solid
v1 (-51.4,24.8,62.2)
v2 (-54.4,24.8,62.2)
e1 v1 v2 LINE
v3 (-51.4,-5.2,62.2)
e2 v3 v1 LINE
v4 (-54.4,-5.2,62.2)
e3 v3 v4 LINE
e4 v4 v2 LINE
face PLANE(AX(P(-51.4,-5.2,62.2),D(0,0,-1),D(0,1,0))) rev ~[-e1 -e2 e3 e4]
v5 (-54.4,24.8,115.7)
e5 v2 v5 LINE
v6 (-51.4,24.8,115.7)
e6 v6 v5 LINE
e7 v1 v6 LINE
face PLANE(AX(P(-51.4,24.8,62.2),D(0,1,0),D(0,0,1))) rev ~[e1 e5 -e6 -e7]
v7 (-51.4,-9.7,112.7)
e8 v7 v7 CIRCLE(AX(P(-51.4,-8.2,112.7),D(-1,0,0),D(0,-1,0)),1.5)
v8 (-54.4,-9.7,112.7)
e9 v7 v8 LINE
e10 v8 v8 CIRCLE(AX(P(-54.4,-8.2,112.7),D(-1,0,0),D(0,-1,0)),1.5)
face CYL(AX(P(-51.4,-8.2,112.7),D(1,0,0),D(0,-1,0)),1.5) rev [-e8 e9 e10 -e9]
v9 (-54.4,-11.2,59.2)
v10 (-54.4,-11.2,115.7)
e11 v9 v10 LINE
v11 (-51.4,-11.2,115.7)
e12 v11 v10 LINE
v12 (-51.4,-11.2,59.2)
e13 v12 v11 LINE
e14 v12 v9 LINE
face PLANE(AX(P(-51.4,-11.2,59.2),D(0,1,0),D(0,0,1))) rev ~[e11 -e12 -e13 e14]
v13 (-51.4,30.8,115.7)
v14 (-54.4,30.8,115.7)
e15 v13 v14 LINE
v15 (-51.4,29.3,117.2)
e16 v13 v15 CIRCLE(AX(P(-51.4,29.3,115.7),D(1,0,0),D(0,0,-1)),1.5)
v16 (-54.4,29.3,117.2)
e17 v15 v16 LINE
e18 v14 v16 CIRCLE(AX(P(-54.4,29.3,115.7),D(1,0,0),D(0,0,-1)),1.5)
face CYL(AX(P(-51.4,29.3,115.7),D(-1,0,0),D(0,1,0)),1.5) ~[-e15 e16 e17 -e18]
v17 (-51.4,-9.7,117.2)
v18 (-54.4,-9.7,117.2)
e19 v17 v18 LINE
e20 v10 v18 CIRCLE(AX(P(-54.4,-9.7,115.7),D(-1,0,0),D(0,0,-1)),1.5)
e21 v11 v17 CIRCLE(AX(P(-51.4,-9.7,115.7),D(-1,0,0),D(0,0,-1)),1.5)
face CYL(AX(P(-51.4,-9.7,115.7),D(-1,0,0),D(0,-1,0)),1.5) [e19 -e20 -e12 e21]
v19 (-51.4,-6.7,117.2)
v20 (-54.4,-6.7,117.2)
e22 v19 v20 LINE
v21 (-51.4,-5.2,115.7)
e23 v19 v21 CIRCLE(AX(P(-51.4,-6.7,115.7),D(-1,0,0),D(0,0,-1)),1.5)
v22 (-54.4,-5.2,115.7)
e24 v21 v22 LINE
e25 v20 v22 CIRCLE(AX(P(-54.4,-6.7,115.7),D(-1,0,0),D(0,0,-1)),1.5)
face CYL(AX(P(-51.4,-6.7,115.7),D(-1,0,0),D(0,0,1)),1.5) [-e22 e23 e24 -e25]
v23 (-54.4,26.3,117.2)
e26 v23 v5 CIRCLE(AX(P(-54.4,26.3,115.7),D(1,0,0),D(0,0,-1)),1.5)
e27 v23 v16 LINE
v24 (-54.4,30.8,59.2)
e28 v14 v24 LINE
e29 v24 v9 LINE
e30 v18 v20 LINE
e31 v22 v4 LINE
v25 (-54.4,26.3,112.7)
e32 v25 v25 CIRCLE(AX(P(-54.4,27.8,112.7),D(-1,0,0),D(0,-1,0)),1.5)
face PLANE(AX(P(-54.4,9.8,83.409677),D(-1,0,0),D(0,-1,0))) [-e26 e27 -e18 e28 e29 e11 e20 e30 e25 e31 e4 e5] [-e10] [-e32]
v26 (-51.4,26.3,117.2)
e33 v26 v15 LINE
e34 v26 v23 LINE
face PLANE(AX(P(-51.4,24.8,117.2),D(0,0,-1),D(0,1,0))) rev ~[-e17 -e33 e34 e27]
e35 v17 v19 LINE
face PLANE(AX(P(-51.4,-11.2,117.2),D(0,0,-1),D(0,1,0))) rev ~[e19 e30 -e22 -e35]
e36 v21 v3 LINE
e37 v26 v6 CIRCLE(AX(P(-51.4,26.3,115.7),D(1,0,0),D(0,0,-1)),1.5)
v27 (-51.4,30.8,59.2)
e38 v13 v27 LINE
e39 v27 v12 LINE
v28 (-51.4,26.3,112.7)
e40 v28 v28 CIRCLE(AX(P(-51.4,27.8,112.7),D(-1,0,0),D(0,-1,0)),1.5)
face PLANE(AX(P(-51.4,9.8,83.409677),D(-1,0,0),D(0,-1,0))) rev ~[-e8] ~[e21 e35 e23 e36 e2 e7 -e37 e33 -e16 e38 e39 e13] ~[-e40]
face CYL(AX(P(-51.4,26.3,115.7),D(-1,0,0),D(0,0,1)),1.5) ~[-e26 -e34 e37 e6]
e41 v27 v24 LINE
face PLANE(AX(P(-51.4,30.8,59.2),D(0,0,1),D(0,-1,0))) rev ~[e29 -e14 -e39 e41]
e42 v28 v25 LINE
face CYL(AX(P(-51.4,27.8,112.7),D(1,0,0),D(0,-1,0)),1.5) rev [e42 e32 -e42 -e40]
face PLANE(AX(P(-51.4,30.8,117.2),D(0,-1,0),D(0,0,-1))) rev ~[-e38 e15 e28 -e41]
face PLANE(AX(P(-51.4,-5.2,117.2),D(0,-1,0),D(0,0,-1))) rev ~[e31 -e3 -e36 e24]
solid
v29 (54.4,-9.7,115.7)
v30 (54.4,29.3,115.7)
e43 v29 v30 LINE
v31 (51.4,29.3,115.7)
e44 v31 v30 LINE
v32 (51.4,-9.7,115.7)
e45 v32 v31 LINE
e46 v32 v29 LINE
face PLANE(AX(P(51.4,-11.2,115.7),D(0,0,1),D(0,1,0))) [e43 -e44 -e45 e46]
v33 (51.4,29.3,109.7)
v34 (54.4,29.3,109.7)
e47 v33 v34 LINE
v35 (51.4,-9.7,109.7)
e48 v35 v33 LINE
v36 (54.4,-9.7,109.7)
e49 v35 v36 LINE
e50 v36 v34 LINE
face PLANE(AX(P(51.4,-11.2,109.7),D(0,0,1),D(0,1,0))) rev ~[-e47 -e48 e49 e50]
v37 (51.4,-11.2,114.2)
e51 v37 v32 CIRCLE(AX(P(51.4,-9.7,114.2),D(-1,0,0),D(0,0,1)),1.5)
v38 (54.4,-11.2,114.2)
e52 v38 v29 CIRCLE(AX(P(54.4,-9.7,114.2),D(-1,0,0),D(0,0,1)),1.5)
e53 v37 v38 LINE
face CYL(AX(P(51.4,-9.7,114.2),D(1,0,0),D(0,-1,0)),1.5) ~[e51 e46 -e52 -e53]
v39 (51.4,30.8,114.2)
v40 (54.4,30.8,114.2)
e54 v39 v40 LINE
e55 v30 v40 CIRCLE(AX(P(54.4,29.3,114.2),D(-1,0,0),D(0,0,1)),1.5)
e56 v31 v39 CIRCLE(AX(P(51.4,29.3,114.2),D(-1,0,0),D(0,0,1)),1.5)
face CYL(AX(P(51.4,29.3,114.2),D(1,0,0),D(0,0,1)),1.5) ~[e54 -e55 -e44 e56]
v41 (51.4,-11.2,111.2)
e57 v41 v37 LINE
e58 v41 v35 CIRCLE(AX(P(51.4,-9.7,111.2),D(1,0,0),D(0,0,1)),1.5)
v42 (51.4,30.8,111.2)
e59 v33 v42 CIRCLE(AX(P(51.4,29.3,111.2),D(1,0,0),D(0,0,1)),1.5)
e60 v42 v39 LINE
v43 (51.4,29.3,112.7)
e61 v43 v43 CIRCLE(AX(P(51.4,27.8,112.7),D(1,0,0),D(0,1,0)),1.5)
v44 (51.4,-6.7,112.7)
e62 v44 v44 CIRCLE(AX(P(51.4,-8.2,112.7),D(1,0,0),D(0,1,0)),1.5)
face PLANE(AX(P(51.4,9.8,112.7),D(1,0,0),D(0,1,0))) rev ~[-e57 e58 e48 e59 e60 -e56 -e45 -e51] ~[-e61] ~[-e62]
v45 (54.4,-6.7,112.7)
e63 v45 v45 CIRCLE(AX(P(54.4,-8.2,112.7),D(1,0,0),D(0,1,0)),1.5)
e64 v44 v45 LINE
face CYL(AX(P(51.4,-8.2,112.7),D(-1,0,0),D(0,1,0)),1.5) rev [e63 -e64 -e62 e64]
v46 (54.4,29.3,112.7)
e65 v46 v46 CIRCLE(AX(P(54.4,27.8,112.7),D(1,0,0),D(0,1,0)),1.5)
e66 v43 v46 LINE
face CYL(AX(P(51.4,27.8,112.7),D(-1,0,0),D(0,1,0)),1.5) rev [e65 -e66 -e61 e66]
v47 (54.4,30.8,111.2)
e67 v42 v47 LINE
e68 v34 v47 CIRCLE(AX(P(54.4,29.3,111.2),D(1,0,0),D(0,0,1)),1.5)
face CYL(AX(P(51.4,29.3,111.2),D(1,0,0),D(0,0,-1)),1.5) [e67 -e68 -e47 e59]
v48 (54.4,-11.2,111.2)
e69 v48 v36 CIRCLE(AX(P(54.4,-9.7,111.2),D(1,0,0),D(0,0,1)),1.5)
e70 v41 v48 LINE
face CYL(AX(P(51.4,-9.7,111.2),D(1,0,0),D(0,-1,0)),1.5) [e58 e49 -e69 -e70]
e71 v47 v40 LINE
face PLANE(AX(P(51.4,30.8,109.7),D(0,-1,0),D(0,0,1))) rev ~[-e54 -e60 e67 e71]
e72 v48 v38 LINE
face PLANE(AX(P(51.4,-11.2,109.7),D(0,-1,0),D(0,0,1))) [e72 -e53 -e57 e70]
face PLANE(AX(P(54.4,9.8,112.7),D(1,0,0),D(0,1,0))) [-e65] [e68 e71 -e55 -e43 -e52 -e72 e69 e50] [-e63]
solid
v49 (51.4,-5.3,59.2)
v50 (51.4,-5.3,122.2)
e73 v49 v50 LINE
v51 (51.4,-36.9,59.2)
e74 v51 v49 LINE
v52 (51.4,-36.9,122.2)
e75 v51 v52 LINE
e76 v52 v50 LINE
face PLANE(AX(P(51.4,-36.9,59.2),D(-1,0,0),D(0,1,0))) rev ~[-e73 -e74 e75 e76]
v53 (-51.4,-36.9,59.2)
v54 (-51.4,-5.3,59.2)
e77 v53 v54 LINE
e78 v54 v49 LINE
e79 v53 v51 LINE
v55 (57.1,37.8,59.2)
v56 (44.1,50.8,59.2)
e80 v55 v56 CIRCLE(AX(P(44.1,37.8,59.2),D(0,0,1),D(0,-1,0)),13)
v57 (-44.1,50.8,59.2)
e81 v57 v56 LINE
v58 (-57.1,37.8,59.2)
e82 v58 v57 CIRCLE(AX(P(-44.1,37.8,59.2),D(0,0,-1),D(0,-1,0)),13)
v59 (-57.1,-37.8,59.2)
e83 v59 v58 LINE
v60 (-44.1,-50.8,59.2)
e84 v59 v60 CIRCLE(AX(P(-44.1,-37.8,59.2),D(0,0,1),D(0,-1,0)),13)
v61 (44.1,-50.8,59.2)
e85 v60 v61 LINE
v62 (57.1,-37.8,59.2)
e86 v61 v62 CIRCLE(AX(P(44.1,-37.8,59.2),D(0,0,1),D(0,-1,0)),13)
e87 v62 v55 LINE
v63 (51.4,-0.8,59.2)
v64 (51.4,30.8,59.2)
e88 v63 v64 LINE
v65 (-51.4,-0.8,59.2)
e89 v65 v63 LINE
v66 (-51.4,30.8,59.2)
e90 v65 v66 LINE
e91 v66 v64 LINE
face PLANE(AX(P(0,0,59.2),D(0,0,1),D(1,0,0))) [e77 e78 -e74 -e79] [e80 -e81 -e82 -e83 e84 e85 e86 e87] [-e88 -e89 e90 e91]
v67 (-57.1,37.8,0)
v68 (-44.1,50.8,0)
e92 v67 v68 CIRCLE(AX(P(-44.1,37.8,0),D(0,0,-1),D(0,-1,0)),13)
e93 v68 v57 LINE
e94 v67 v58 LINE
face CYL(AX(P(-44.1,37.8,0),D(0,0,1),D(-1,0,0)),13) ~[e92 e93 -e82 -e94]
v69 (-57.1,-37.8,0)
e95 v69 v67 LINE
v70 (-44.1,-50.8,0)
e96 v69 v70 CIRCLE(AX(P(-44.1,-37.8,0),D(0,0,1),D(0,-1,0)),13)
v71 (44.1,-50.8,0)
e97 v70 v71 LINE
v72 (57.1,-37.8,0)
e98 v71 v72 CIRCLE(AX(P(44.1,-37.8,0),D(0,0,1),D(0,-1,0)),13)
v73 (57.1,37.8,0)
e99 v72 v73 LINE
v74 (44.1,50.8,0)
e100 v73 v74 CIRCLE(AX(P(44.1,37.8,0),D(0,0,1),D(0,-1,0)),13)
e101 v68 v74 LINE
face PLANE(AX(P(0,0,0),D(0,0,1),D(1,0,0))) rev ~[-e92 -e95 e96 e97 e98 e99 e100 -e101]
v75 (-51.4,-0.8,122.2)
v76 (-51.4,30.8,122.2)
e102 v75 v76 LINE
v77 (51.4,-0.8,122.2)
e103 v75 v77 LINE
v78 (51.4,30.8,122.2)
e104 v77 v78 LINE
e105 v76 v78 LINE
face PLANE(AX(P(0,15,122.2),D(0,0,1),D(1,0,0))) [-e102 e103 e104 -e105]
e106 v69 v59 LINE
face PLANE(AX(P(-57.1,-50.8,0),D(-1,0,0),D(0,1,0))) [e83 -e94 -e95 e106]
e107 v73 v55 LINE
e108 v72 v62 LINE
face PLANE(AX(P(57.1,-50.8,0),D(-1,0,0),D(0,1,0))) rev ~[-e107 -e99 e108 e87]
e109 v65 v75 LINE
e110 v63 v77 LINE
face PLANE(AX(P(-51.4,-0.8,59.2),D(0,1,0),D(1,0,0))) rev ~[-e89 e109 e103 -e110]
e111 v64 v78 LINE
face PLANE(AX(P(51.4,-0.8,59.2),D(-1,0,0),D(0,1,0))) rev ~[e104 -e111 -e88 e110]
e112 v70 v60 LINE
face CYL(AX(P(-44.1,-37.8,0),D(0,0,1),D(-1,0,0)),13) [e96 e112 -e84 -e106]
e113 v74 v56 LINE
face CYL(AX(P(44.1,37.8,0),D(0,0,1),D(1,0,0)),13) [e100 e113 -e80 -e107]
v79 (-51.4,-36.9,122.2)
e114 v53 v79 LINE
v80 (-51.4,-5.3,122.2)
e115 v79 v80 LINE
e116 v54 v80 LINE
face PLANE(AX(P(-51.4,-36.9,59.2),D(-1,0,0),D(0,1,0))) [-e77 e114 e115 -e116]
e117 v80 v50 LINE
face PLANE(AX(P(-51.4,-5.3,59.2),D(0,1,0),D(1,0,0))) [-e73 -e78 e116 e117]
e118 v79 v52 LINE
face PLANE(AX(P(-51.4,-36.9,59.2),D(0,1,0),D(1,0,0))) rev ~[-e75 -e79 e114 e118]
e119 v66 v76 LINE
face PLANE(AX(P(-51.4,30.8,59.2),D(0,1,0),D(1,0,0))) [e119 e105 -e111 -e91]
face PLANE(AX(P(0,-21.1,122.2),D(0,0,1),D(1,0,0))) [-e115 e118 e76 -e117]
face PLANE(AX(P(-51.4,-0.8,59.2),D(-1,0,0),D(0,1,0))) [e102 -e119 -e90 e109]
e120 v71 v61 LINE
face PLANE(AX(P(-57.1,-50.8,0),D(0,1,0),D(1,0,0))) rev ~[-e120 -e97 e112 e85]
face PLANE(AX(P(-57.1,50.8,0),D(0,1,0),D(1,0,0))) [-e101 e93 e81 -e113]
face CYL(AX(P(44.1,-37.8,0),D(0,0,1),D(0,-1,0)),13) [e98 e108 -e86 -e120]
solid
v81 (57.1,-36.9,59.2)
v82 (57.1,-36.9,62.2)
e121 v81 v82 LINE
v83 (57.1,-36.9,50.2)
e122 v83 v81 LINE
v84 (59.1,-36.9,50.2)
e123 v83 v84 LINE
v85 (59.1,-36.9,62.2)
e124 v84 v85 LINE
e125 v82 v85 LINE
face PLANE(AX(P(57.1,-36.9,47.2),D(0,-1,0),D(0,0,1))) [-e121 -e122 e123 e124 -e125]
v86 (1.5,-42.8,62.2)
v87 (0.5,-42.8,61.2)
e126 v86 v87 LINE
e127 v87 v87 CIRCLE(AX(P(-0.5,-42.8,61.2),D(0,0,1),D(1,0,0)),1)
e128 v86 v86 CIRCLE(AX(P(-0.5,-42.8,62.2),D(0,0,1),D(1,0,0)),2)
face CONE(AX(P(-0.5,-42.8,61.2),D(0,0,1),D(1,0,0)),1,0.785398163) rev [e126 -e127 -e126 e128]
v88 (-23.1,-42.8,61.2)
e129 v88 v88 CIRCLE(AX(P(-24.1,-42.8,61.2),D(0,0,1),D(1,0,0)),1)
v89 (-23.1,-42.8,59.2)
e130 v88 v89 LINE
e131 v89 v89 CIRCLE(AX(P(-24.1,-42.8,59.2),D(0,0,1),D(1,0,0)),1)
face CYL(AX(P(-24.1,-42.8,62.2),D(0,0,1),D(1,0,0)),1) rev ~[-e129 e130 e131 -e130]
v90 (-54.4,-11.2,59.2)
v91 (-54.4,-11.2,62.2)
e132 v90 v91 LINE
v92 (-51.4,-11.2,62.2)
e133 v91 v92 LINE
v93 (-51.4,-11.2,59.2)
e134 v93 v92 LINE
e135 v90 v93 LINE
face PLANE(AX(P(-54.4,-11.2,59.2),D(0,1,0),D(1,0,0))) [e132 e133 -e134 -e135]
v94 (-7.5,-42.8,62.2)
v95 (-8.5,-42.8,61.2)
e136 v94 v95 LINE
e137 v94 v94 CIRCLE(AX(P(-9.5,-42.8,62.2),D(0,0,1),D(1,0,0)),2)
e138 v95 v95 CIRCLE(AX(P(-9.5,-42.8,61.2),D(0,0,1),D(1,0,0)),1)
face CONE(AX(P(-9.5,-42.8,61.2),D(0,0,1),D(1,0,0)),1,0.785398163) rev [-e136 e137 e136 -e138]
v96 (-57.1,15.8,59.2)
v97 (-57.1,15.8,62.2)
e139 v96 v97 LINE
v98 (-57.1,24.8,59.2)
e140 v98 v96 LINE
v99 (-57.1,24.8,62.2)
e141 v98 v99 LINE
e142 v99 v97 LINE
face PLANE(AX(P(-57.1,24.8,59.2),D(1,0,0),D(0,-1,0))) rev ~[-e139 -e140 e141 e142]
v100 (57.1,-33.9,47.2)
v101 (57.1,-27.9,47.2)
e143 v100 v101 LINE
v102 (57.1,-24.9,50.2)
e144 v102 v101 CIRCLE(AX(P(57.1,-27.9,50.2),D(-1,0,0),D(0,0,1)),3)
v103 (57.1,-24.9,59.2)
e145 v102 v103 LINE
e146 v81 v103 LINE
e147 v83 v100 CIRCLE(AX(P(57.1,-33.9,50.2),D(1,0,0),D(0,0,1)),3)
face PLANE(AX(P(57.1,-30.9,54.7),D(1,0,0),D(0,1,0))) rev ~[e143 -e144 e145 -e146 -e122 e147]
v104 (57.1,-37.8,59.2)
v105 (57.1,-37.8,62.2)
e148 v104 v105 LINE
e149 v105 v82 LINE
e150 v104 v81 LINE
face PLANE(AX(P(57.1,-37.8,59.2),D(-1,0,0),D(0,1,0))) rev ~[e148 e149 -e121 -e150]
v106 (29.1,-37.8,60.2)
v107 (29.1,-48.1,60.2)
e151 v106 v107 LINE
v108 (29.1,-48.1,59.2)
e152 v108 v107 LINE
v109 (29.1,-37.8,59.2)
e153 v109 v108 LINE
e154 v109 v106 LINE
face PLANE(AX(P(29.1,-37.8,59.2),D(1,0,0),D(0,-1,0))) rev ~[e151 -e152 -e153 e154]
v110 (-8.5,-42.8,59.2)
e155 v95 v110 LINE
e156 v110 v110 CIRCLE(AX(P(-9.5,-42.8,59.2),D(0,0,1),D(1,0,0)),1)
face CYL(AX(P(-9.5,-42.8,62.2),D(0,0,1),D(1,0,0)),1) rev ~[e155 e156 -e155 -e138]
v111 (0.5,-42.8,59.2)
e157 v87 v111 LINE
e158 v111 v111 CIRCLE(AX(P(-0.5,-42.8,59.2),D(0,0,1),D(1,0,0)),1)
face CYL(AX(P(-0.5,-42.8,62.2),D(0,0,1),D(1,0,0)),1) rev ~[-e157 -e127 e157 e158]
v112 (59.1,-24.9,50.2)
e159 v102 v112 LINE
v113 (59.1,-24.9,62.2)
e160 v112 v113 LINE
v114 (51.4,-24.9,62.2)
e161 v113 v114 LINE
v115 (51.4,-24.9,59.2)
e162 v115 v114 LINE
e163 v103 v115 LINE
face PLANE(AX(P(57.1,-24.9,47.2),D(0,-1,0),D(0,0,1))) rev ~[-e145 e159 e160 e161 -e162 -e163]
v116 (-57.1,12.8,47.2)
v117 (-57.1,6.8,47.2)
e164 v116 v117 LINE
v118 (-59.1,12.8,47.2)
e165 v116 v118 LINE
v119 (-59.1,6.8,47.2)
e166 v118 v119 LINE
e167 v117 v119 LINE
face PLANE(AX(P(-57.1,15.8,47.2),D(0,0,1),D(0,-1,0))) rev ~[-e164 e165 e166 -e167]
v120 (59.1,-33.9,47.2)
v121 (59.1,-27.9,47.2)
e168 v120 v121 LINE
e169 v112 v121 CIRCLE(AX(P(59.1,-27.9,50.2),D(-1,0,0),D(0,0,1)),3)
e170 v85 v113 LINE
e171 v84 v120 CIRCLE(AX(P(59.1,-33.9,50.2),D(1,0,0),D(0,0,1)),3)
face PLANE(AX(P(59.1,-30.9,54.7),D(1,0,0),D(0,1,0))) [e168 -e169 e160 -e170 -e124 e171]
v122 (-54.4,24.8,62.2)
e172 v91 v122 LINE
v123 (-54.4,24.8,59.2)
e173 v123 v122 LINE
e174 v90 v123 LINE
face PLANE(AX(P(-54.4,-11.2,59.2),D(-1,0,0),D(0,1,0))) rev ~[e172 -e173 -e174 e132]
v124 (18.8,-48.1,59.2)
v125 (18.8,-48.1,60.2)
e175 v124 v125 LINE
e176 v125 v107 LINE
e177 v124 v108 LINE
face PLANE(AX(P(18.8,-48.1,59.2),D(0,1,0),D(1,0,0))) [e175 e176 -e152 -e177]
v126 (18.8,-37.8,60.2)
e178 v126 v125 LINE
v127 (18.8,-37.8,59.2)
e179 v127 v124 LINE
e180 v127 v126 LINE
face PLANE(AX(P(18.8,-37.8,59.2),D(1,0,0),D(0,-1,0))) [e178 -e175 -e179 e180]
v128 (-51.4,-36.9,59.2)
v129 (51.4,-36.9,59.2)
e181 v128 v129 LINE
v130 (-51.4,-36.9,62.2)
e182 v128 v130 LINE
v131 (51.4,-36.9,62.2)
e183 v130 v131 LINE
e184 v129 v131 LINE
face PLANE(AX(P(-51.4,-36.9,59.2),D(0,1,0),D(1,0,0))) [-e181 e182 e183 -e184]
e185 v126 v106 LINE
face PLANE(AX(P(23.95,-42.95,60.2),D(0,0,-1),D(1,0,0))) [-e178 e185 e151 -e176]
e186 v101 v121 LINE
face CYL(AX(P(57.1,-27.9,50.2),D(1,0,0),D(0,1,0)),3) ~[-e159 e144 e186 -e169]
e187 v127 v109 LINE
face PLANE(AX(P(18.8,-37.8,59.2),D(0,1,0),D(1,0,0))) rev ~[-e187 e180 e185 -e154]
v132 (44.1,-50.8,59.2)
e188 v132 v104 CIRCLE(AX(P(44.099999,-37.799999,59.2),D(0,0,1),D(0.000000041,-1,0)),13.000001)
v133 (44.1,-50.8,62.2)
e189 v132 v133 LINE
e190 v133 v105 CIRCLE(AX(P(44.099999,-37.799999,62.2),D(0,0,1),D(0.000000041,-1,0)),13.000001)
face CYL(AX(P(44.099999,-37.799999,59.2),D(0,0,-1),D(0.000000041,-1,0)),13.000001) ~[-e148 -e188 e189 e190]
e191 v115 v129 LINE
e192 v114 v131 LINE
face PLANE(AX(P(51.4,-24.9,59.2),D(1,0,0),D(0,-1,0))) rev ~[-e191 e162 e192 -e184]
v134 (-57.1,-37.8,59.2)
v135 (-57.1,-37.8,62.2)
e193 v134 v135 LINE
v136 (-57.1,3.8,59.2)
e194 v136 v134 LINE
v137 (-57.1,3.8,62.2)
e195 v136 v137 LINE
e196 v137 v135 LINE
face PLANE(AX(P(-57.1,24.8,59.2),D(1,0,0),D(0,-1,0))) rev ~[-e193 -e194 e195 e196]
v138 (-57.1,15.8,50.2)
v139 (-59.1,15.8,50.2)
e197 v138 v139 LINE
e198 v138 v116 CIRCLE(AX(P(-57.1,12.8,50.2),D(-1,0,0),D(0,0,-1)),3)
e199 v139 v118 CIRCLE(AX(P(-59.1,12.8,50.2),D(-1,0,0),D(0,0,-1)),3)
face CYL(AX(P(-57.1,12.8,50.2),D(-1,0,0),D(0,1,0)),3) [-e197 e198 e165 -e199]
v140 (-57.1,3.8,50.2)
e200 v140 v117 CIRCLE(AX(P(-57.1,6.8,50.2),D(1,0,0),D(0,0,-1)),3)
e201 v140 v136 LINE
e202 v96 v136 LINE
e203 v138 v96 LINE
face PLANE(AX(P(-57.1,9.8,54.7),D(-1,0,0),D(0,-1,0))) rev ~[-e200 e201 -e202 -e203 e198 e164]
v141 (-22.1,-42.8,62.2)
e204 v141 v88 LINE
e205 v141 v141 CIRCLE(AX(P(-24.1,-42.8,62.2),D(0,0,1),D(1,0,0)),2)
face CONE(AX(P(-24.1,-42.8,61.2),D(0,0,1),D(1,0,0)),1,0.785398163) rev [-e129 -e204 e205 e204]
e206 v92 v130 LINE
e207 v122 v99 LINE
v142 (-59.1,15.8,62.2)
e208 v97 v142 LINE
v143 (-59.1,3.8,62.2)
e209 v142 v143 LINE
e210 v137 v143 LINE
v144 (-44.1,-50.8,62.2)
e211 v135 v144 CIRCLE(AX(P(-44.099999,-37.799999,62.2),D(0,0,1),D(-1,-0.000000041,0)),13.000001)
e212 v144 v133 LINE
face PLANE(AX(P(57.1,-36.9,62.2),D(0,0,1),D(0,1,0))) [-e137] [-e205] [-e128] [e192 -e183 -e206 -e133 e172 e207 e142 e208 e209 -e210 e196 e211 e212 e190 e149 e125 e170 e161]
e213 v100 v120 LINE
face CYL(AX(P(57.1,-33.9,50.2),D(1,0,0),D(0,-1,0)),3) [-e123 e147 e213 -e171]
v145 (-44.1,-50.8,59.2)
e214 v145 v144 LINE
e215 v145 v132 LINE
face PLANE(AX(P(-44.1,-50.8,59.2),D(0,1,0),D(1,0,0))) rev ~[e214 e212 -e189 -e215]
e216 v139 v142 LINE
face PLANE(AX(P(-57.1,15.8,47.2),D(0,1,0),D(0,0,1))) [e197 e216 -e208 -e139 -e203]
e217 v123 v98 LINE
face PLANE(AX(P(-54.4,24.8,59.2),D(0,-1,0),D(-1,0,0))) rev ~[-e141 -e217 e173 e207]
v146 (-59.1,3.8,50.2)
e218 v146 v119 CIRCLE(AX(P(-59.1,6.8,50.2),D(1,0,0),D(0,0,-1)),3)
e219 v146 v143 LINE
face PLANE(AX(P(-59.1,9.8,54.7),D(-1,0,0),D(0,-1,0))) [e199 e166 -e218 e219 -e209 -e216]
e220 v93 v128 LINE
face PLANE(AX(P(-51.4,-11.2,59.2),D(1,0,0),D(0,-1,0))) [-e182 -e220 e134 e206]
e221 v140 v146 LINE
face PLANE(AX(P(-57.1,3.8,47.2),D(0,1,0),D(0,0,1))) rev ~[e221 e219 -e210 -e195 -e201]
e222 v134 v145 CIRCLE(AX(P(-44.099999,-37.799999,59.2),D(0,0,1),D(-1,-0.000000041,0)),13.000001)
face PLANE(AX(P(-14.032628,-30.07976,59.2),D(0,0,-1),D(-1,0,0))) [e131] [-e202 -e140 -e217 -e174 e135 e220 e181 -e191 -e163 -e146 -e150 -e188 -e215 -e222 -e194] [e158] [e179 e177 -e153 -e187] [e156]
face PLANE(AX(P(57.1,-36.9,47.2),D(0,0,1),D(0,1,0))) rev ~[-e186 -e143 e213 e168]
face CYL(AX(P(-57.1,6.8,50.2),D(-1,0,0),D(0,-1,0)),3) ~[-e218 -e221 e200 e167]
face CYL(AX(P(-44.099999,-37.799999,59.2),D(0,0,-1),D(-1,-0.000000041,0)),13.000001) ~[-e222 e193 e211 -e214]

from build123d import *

# Parameters (mm, degrees)
SKETCH_R        = 1.5
PAD_DEPTH       = 3
FILLET_R        = 1.5
SKETCH001_W     = 114.2
SKETCH001_H     = 101.6
PAD001_DEPTH    = 59.2
FILLET001_R     = 13
SKETCH002_W     = 102.8
SKETCH002_H     = 31.6
PAD002_DEPTH    = 63
SKETCH003_W     = 42
SKETCH003_H     = 6
SKETCH003_R     = 1.5
PAD003_DEPTH    = 3
FILLET002_R     = 1.5
PAD004_DEPTH    = 3
SKETCH005_R     = 1
POCKET_DEPTH    = 3
SKETCH006_W     = 12
SKETCH006_H     = 15
PAD005_DEPTH    = 2
SKETCH008_W     = 12
SKETCH008_H     = 15
PAD006_DEPTH    = 2
SKETCH009_W     = 10.3
SKETCH009_H     = 10.3
POCKET001_DEPTH = 1
CHAMFER_SIZE    = 1
FILLET003_R     = 3


with BuildPart() as drive_mount_a:
    # Sketch (on DatumPlane) → Pad (new body)
    with BuildSketch(Plane(origin=(-51.4, 0, 0), x_dir=(0, -1, 0), z_dir=(-1, 0, 0))):
        Polygon((-30.8, 117.2), (-30.8, 59.2), (11.2, 59.2), (11.2, 117.2), (5.2, 117.2), (5.2, 62.2), (-24.8, 62.2), (-24.8, 117.2), align=None)
        with Locations((-27.8, 112.7)):
            Circle(SKETCH_R, mode=Mode.SUBTRACT)
        with Locations((8.2, 112.7)):
            Circle(SKETCH_R, mode=Mode.SUBTRACT)
    extrude(amount=PAD_DEPTH)

    # Fillet
    fillet_edges = [drive_mount_a.edges().sort_by_distance(p)[0] for p in [
        (-52.9, 30.8, 117.2),
        (-52.9, 24.8, 117.2),
        (-52.9, -5.2, 117.2),
        (-52.9, -11.2, 117.2),
    ]]
    fillet(fillet_edges, radius=FILLET_R)


with BuildPart() as fideco_body:
    # Sketch001 → Pad001 (new body)
    with BuildSketch(Plane.XY):
        Rectangle(SKETCH001_W, SKETCH001_H)
    extrude(amount=PAD001_DEPTH)

    # Fillet001
    fillet001_edges = [fideco_body.edges().sort_by_distance(p)[0] for p in [
        (57.1, 50.8, 29.6),
        (57.1, -50.8, 29.6),
        (-57.1, -50.8, 29.6),
        (-57.1, 50.8, 29.6),
    ]]
    fillet(fillet001_edges, radius=FILLET001_R)

    # Sketch002 (on Face6 of Pad001) → Pad002 (join)
    with BuildSketch(Plane.XY.offset(59.2)):
        with Locations((0, 15)):
            Rectangle(SKETCH002_W, SKETCH002_H)
        with Locations((0, -21.1)):
            Rectangle(SKETCH002_W, SKETCH002_H)
    extrude(amount=PAD002_DEPTH)


with BuildPart() as drive_mount_b:
    # Sketch003 (on Face16 of ShapeBinder001) → Pad003 (new body)
    with BuildSketch(Plane.YZ.offset(51.4)):
        with Locations((9.8, 112.7)):
            Rectangle(SKETCH003_W, SKETCH003_H)
        with Locations((27.8, 112.7)):
            Circle(SKETCH003_R, mode=Mode.SUBTRACT)
        with Locations((-8.2, 112.7)):
            Circle(SKETCH003_R, mode=Mode.SUBTRACT)
    extrude(amount=PAD003_DEPTH)

    # Fillet002
    fillet002_edges = [drive_mount_b.edges().sort_by_distance(p)[0] for p in [
        (52.9, -11.2, 115.7),
        (52.9, -11.2, 109.7),
        (52.9, 30.8, 109.7),
        (52.9, 30.8, 115.7),
    ]]
    fillet(fillet002_edges, radius=FILLET002_R)


with BuildPart() as body_cover:
    # Sketch004 (on Face5 of ShapeBinder002) → Pad004 (new body)
    with BuildSketch(Plane.XY.offset(59.2)):
        with BuildLine():
            Line((-54.4, -11.2), (-51.4, -11.2))
            Line((-51.4, -11.2), (-51.4, -36.9))
            Line((-51.4, -36.9), (51.4, -36.9))
            Line((51.4, -24.9), (51.4, -36.9))
            Line((57.1, -24.9), (51.4, -24.9))
            Line((57.1, -37.8), (57.1, -24.9))
            ThreePointArc((44.1, -50.8), (53.292388, -46.992388), (57.1, -37.8))
            Line((-44.1, -50.8), (44.1, -50.8))
            ThreePointArc((-57.1, -37.8), (-53.292388, -46.992388), (-44.1, -50.8))
            Line((-57.1, 24.8), (-57.1, -37.8))
            Line((-54.4, 24.8), (-57.1, 24.8))
            Line((-54.4, -11.2), (-54.4, 24.8))
        make_face()
    extrude(amount=PAD004_DEPTH)

    # Sketch005 (on Face14 of Pad004) → Pocket (cut)
    with BuildSketch(Plane.XY.offset(62.2)):
        with Locations((-24.1, -42.8)):
            Circle(SKETCH005_R)
        with Locations((-9.5, -42.8)):
            Circle(SKETCH005_R)
        with Locations((-0.5, -42.8)):
            Circle(SKETCH005_R)
    extrude(amount=-POCKET_DEPTH, mode=Mode.SUBTRACT)

    # Sketch006 (on Face8 of Pocket) → Pad005 (join)
    with BuildSketch(Plane(origin=(-57.1, 0, 0), x_dir=(0, -1, 0), z_dir=(-1, 0, 0))):
        with Locations((-9.8, 54.7)):
            Rectangle(SKETCH006_W, SKETCH006_H)
    extrude(amount=PAD005_DEPTH)

    # Sketch008 (on Face15 of Pad005) → Pad006 (join)
    with BuildSketch(Plane.YZ.offset(57.1)):
        with Locations((-30.9, 54.7)):
            Rectangle(SKETCH008_W, SKETCH008_H)
    extrude(amount=PAD006_DEPTH)

    # Sketch009 (on Face4 of Pad006) → Pocket001 (cut)
    with BuildSketch(Plane(origin=(0, 0, 59.2), x_dir=(1, 0, 0), z_dir=(0, 0, -1))):
        with Locations((23.95, 42.95)):
            Rectangle(SKETCH009_W, SKETCH009_H)
    extrude(amount=-POCKET001_DEPTH, mode=Mode.SUBTRACT)

    # Chamfer
    chamfer_edges = [body_cover.edges().sort_by_distance(p)[0] for p in [
        (-10.5, -42.8, 62.2),
        (-25.1, -42.8, 62.2),
        (-1.5, -42.8, 62.2),
    ]]
    chamfer(chamfer_edges, length=CHAMFER_SIZE)

    # Fillet003
    fillet003_edges = [body_cover.edges().sort_by_distance(p)[0] for p in [
        (58.1, -24.9, 47.2),
        (58.1, -36.9, 47.2),
        (-58.1, 15.8, 47.2),
        (-58.1, 3.8, 47.2),
    ]]
    fillet(fillet003_edges, radius=FILLET003_R)


solid = Compound([drive_mount_a.part, fideco_body.part, drive_mount_b.part, body_cover.part])
